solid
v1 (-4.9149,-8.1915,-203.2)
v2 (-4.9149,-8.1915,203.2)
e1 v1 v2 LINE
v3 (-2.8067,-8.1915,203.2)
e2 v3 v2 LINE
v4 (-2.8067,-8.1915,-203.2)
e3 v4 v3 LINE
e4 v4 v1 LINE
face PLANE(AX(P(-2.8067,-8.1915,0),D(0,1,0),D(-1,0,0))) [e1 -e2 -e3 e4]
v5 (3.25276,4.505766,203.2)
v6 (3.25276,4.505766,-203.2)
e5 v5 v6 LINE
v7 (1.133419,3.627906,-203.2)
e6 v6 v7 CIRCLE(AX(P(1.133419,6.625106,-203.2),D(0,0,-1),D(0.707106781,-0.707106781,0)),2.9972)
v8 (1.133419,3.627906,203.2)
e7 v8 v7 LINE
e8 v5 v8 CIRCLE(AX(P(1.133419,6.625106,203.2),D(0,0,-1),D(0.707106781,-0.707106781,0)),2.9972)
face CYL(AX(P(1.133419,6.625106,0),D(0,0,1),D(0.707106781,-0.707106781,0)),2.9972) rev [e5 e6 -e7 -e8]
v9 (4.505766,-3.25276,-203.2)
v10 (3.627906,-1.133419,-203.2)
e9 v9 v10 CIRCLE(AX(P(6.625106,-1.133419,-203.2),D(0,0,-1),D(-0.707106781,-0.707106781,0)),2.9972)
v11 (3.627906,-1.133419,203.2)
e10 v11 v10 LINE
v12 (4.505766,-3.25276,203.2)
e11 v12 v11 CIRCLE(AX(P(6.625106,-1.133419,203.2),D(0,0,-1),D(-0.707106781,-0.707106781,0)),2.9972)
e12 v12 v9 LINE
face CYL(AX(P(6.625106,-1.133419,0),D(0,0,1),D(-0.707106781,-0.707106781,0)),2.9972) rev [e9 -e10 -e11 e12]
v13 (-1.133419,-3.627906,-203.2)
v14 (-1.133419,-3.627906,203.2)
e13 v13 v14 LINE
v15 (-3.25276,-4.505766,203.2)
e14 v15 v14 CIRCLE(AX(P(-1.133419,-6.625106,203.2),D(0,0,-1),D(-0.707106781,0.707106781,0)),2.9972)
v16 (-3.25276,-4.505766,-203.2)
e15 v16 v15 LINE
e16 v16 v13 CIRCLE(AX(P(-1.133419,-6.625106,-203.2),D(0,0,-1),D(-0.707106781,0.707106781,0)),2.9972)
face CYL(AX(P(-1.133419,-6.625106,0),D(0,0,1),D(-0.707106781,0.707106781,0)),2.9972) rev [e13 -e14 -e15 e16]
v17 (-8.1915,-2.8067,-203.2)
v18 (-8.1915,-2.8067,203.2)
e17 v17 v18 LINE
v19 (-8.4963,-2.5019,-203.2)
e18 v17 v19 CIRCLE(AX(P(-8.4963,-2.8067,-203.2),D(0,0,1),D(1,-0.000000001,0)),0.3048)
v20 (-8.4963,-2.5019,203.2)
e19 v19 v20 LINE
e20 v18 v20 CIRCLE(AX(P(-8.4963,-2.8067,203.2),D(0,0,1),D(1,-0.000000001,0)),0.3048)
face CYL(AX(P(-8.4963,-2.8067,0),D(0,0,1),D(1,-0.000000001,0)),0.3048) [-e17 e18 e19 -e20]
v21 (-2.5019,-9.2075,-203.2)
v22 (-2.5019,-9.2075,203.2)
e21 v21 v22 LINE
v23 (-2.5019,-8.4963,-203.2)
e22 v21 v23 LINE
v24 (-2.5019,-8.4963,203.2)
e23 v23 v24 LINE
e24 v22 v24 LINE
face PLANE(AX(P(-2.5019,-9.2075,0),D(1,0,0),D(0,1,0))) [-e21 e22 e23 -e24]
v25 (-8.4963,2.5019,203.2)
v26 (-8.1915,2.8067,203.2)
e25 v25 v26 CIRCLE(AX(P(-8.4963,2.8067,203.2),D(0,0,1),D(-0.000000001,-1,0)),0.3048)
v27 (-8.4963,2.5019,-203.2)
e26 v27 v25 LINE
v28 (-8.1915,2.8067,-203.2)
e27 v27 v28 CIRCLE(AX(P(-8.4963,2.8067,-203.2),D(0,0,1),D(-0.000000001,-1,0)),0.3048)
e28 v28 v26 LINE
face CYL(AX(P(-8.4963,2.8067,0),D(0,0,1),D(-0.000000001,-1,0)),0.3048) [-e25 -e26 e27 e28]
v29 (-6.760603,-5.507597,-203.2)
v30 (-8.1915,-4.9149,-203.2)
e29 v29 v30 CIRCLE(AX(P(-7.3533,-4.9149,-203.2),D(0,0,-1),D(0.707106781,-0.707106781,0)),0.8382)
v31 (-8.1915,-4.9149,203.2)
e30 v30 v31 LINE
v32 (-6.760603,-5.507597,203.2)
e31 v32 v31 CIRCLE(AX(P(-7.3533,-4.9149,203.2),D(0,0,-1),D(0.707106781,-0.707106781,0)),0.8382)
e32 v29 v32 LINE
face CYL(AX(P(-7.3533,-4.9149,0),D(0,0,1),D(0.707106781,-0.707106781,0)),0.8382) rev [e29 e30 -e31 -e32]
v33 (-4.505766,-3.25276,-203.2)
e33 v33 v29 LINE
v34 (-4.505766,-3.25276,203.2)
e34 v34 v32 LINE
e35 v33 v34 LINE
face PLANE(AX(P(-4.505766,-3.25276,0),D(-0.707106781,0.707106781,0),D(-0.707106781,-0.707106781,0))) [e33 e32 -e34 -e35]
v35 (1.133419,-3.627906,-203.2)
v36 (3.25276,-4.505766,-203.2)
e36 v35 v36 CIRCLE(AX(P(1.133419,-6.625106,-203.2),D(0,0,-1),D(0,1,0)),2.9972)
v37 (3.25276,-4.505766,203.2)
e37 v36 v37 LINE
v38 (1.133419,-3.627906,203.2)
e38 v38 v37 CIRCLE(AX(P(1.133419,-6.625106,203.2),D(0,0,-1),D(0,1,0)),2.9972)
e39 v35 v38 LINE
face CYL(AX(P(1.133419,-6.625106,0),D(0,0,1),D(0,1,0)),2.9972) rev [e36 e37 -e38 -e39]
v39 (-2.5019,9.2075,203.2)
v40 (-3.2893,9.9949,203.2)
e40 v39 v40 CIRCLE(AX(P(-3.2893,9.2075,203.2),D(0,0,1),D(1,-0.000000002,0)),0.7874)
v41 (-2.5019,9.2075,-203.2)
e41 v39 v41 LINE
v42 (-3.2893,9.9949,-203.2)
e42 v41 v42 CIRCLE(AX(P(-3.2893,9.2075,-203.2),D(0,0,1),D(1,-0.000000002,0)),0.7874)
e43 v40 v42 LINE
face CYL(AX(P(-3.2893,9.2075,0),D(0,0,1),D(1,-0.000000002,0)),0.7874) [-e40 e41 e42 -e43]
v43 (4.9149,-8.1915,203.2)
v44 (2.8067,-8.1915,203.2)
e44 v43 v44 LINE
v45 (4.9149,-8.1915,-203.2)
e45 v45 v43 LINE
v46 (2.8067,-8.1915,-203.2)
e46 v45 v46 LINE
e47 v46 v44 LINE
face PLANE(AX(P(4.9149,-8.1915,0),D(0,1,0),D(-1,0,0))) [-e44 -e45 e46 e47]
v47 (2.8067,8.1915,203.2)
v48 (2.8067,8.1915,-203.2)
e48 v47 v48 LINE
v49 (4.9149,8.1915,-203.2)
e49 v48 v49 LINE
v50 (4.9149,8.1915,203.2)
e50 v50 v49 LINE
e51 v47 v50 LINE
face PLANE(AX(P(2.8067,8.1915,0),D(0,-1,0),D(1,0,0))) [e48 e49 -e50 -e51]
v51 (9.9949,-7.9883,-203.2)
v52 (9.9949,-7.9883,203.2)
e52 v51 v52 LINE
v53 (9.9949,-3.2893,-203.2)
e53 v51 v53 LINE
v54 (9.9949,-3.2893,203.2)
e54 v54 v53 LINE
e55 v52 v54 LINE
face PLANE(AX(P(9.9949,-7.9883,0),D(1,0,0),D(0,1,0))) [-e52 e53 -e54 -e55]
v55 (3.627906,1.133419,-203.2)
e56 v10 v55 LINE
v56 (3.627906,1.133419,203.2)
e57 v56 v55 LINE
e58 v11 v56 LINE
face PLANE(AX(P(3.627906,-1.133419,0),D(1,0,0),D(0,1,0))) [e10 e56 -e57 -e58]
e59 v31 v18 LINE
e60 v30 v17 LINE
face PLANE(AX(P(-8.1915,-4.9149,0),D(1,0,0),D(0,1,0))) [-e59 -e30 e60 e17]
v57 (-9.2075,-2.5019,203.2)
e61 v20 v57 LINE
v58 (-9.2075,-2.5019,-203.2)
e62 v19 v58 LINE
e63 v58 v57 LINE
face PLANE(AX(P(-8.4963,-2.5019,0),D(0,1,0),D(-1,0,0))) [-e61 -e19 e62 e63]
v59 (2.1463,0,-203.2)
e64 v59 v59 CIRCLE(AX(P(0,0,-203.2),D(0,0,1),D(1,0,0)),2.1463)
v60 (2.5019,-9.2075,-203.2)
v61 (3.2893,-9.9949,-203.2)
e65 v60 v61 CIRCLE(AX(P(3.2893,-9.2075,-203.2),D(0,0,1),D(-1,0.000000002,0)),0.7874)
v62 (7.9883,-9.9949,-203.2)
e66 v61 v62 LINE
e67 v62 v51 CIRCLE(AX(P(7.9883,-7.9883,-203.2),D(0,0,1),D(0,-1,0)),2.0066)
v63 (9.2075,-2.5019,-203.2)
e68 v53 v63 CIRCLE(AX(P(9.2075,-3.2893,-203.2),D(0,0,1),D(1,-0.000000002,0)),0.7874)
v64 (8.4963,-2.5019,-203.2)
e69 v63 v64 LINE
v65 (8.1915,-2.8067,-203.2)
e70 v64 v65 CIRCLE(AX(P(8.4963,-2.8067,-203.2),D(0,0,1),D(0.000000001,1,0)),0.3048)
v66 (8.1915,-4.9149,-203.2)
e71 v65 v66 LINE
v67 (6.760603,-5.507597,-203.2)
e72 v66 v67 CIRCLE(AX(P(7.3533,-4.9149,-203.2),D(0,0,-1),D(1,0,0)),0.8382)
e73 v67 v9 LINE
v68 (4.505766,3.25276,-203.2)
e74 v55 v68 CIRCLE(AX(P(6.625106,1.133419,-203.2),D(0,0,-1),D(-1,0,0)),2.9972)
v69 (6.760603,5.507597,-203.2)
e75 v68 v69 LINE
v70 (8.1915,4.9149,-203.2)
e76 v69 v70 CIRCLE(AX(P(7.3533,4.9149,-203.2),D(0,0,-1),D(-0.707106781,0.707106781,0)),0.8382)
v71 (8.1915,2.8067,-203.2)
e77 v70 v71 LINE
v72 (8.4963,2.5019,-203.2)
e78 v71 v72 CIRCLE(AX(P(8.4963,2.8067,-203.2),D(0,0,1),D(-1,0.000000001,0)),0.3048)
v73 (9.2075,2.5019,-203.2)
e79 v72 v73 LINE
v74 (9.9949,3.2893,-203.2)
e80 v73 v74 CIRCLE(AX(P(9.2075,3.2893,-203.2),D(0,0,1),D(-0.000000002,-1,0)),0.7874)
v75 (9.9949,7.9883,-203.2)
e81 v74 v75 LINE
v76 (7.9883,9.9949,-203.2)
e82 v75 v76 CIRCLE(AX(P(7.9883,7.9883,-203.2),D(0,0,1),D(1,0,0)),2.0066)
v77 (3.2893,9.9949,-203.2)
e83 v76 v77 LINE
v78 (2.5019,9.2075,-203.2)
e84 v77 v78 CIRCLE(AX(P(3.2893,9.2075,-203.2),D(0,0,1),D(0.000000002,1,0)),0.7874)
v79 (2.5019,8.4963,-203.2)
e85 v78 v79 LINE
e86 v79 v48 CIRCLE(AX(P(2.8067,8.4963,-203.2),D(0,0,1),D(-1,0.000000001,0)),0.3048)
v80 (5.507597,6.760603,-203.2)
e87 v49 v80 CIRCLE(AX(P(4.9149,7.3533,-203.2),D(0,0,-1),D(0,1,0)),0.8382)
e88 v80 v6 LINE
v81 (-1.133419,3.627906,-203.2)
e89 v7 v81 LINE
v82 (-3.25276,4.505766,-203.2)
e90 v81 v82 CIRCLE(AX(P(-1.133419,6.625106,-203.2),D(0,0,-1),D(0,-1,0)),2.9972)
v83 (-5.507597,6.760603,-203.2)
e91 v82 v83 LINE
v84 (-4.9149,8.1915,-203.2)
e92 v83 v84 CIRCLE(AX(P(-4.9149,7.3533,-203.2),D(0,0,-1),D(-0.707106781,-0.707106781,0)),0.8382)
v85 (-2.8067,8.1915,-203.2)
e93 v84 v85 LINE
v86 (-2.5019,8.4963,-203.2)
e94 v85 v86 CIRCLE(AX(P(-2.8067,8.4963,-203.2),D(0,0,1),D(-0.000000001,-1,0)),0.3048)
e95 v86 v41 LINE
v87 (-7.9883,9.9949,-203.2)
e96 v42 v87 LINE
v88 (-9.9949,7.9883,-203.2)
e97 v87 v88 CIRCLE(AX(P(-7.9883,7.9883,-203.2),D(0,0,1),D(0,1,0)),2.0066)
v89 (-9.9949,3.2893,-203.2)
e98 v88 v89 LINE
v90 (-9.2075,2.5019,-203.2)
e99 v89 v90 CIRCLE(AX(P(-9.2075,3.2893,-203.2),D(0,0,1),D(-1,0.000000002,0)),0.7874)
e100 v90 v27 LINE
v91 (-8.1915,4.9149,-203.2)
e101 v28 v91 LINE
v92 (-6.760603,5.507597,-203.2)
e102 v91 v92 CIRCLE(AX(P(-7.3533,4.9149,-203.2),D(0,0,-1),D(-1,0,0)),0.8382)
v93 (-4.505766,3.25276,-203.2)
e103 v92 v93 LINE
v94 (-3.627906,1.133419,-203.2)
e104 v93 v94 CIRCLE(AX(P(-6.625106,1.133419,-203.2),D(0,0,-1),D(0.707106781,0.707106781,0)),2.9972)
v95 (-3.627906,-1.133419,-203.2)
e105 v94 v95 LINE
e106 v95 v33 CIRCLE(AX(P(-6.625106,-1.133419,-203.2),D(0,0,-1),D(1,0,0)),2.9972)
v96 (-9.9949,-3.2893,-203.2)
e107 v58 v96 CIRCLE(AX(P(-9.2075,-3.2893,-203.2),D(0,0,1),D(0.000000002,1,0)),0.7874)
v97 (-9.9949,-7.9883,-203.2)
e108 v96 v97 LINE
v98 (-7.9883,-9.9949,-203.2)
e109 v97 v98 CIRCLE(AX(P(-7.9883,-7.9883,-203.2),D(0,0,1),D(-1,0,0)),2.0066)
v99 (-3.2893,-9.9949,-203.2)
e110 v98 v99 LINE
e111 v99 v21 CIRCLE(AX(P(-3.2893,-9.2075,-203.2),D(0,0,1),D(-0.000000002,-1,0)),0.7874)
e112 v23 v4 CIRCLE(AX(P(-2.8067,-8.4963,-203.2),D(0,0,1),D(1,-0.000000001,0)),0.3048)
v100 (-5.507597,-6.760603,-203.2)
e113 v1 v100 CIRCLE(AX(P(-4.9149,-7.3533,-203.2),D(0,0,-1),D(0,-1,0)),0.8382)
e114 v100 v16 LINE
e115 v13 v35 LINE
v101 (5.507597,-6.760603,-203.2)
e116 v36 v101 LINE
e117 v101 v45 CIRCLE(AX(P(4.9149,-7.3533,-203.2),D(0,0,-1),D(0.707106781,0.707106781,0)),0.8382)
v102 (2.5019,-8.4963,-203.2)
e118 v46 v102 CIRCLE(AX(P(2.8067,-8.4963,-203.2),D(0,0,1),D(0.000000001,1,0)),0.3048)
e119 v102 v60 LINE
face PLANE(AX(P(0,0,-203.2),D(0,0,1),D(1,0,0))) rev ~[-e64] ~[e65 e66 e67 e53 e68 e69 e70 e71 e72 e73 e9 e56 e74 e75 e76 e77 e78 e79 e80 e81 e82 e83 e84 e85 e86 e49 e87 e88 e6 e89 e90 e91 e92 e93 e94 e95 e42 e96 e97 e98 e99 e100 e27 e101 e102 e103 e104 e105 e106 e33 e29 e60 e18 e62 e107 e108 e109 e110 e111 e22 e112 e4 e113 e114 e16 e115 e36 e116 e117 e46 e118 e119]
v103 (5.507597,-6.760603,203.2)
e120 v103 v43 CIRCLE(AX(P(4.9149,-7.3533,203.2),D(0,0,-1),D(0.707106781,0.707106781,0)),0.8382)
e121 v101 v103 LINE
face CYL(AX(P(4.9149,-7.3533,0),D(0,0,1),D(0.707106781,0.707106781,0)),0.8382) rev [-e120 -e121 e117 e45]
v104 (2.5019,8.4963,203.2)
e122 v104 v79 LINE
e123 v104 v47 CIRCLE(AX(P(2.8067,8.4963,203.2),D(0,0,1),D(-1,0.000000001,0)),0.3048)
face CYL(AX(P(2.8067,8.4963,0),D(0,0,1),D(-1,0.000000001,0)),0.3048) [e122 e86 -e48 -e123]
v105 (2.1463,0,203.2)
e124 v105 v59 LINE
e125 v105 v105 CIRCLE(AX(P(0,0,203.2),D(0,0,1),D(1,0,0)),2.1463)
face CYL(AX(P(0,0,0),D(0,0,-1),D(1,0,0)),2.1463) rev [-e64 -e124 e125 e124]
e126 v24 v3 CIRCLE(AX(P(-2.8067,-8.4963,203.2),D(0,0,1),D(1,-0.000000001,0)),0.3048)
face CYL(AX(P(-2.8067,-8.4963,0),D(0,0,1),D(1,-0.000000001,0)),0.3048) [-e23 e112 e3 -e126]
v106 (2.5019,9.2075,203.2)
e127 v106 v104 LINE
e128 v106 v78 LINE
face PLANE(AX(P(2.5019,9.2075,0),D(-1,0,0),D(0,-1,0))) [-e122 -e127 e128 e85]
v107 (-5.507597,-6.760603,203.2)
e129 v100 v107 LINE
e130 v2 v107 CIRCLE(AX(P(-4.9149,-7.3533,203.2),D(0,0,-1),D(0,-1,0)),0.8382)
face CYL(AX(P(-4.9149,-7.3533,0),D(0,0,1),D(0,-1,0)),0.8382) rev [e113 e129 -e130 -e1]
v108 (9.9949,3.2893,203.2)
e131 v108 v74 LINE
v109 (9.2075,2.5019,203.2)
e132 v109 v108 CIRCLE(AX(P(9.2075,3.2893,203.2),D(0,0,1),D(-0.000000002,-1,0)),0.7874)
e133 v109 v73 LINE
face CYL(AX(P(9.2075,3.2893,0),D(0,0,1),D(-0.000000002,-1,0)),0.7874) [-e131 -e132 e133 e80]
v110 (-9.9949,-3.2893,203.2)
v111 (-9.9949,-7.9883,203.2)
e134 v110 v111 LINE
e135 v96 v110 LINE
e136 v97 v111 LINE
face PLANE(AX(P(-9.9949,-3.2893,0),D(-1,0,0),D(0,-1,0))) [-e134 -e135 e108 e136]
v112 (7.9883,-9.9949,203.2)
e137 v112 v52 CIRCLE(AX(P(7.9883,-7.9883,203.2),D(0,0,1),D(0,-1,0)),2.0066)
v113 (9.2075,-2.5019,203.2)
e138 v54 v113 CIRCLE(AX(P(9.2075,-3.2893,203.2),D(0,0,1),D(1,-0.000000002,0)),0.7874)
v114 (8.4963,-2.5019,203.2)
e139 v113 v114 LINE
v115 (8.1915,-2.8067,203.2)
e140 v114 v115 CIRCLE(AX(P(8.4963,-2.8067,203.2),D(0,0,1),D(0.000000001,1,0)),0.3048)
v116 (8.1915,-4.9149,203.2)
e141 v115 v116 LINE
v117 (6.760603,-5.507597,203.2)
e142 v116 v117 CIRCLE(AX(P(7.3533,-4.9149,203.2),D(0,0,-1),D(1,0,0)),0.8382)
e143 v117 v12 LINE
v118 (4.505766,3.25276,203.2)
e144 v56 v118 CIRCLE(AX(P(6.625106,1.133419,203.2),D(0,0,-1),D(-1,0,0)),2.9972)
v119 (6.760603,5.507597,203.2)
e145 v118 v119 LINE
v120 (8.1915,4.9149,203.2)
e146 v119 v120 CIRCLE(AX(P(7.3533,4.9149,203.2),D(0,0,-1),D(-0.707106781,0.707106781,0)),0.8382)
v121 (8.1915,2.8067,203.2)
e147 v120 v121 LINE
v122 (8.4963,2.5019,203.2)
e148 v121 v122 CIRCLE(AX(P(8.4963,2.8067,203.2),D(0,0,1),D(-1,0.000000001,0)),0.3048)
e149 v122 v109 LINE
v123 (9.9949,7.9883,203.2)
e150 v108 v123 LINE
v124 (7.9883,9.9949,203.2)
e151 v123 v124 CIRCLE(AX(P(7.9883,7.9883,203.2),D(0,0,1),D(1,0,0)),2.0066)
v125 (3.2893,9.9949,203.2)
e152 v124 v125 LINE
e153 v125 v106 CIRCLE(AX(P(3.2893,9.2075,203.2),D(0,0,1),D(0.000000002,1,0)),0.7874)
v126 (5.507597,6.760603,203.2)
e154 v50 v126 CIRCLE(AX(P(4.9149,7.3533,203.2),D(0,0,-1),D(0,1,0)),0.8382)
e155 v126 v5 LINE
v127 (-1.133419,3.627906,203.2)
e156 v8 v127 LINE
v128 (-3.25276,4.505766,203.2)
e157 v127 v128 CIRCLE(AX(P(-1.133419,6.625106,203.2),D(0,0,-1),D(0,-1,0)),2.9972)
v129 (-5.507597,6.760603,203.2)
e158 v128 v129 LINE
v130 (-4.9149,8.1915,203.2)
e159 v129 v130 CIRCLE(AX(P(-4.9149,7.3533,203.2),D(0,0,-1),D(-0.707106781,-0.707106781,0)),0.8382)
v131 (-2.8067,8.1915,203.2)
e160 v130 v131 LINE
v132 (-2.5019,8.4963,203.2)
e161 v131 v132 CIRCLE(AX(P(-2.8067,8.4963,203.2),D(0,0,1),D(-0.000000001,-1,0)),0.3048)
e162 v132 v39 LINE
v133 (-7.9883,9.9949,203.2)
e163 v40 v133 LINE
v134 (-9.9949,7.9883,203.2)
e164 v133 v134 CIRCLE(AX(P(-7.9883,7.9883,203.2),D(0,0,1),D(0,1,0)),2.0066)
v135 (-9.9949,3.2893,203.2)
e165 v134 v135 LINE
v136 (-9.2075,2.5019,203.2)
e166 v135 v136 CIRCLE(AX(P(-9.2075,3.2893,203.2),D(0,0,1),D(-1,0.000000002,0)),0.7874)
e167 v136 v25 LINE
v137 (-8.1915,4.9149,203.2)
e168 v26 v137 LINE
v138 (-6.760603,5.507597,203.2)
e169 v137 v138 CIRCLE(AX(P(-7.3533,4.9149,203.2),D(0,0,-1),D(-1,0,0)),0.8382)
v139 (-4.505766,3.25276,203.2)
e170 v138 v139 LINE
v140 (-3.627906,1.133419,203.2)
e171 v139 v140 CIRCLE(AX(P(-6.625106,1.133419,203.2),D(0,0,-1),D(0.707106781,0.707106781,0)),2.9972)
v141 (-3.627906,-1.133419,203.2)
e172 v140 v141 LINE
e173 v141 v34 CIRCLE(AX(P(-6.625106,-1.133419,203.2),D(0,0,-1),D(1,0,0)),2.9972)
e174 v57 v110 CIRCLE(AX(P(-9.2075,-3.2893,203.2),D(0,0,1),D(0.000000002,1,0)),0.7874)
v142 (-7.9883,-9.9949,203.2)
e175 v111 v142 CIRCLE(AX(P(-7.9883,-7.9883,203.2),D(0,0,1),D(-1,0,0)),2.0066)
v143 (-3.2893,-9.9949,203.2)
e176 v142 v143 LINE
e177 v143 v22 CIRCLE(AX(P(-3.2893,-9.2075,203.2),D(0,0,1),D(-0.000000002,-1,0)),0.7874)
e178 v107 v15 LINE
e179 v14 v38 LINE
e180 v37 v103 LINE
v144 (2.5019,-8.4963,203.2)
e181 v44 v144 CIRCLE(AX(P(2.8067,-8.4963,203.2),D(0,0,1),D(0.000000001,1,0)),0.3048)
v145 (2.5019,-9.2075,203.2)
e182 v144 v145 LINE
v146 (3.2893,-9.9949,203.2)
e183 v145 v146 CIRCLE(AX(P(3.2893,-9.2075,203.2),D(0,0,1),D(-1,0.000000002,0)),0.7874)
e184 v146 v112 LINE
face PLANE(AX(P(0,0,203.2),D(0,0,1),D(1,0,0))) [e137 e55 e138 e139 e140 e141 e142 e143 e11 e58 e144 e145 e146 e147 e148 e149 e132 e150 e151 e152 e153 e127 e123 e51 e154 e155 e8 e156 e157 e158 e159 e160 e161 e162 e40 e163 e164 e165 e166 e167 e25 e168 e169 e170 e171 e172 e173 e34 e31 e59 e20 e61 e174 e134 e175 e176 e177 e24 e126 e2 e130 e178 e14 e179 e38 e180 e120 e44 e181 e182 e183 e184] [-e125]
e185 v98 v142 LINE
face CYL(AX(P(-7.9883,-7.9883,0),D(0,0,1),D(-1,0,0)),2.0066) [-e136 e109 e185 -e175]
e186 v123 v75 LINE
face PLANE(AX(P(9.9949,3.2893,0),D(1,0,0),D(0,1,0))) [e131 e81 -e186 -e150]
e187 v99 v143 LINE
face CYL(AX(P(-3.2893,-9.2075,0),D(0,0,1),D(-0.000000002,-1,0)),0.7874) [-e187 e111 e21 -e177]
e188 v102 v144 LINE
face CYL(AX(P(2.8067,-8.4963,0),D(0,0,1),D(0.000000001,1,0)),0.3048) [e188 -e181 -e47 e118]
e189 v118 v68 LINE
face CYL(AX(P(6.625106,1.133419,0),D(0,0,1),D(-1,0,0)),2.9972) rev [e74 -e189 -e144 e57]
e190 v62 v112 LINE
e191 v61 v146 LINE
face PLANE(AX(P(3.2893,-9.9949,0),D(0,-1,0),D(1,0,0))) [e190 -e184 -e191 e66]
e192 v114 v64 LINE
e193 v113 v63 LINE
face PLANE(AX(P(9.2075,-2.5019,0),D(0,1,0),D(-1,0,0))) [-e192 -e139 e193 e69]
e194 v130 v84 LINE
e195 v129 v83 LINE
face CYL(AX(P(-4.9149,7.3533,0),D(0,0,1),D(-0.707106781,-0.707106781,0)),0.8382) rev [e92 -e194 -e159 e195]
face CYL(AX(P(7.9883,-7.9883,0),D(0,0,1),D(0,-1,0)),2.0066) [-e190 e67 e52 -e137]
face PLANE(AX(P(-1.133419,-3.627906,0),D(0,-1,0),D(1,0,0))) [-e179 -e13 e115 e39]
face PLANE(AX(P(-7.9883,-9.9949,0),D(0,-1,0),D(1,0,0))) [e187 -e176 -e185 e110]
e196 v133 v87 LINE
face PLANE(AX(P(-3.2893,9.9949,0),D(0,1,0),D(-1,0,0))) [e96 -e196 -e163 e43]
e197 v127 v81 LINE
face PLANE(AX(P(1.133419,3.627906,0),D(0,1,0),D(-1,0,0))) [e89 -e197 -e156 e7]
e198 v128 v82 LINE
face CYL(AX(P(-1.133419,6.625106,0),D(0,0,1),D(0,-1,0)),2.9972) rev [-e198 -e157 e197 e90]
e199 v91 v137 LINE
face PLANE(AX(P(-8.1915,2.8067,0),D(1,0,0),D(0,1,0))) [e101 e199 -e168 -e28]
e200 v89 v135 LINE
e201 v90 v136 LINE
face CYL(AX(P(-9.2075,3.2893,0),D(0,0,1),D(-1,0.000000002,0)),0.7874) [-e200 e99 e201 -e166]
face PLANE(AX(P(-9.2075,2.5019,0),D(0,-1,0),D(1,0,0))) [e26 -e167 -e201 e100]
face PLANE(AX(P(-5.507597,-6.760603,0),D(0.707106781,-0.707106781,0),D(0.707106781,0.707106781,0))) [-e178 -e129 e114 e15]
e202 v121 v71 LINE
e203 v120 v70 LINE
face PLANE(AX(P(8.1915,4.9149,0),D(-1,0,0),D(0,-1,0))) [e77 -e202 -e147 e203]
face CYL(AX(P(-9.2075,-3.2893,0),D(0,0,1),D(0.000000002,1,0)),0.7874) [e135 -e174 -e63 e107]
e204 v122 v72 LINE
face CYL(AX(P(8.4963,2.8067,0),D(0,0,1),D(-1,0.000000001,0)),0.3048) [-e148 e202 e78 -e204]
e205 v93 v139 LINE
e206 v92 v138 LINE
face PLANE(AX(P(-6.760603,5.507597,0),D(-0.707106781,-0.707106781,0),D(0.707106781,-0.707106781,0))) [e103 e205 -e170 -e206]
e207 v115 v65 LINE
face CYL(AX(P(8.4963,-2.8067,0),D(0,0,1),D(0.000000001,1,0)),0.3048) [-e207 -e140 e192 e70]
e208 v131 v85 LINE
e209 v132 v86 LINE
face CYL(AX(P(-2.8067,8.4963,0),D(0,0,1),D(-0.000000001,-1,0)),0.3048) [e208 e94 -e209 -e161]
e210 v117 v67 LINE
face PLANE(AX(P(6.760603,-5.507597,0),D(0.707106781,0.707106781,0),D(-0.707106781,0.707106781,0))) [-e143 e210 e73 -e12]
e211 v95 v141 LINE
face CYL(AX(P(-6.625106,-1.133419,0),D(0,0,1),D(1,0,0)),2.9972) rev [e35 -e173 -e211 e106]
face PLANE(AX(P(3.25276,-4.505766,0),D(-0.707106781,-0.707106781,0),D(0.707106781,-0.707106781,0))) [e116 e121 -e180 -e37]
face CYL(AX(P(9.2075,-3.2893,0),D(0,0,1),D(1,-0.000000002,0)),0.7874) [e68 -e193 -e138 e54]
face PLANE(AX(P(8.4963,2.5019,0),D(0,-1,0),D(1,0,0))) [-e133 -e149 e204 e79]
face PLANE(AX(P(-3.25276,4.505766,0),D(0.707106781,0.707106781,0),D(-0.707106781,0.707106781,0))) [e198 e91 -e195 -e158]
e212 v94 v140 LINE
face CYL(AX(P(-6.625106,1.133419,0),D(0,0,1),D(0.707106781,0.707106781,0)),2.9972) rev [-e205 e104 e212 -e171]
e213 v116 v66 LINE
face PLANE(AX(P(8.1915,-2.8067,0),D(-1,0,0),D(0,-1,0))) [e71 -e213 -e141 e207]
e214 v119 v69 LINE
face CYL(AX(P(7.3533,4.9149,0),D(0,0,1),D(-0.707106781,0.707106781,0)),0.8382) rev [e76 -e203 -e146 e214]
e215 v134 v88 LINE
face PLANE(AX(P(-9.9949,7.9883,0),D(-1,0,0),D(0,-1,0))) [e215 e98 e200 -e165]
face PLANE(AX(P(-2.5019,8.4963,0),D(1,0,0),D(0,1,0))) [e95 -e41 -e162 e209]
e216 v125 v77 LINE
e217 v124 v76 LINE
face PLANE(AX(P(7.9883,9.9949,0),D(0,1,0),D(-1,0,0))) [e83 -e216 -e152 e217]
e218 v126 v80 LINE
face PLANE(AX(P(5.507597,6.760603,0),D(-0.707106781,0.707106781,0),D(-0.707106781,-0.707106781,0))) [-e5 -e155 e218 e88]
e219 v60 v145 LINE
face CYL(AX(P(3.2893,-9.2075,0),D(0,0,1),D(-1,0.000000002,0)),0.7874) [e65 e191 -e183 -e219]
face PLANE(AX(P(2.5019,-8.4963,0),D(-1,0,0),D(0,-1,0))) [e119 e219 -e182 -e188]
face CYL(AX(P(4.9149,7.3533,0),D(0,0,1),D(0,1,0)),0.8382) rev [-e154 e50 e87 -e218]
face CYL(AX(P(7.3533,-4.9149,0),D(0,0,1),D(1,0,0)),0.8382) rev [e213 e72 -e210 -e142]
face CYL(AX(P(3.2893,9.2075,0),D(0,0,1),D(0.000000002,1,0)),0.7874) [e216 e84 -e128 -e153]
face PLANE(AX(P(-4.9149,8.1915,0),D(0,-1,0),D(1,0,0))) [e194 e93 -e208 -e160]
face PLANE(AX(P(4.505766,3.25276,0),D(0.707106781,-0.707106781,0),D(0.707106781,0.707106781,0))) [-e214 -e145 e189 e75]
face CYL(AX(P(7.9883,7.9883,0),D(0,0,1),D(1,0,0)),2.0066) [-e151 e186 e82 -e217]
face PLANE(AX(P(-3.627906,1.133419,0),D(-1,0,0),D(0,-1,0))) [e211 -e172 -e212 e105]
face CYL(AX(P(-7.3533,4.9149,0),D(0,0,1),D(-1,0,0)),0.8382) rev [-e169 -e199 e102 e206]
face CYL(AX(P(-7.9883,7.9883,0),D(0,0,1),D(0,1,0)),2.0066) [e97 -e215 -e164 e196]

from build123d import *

# Parameters (mm, degrees)
SKETCH1_R           = 2.1463
BOSS_EXTRUDE1_DEPTH = 203.2


with BuildPart() as part:
    # Sketch1 → Boss-Extrude1 (new, symmetric)
    with BuildSketch(Plane.XY):
        with BuildLine():
            Line((-9.9949, 7.9883), (-9.9949, 3.2893))
            ThreePointArc((-9.9949, 3.2893), (-9.76427588, 2.73252412), (-9.2075, 2.5019))
            Line((-9.2075, 2.5019), (-8.4963, 2.5019))
            ThreePointArc((-8.4963, 2.5019), (-8.280773853, 2.591173853), (-8.1915, 2.8067))
            Line((-8.1915, 2.8067), (-8.1915, 4.9149))
            ThreePointArc((-8.1915, 4.9149), (-7.674065253, 5.689295824), (-6.760603096, 5.507596904))
            Line((-6.760603096, 5.507596904), (-4.505765747, 3.252759555))
            ThreePointArc((-4.505765747, 3.252759555), (-3.856054457, 2.280397894), (-3.627906192, 1.133419111))
            Line((-3.627906192, 1.133419111), (-3.627906192, -1.133419111))
            ThreePointArc((-3.627906192, -1.133419111), (-3.856054457, -2.280397894), (-4.505765747, -3.252759555))
            Line((-4.505765747, -3.252759555), (-6.760603096, -5.507596904))
            ThreePointArc((-6.760603096, -5.507596904), (-7.674065253, -5.689295824), (-8.1915, -4.9149))
            Line((-8.1915, -4.9149), (-8.1915, -2.8067))
            ThreePointArc((-8.1915, -2.8067), (-8.280773853, -2.591173853), (-8.4963, -2.5019))
            Line((-8.4963, -2.5019), (-9.2075, -2.5019))
            ThreePointArc((-9.2075, -2.5019), (-9.76427588, -2.73252412), (-9.9949, -3.2893))
            Line((-9.9949, -3.2893), (-9.9949, -7.9883))
            ThreePointArc((-9.9949, -7.9883), (-9.407180467, -9.407180467), (-7.9883, -9.9949))
            Line((-7.9883, -9.9949), (-3.2893, -9.9949))
            ThreePointArc((-3.2893, -9.9949), (-2.73252412, -9.76427588), (-2.5019, -9.2075))
            Line((-2.5019, -9.2075), (-2.5019, -8.4963))
            ThreePointArc((-2.5019, -8.4963), (-2.591173853, -8.280773853), (-2.8067, -8.1915))
            Line((-2.8067, -8.1915), (-4.9149, -8.1915))
            ThreePointArc((-4.9149, -8.1915), (-5.689295824, -7.674065253), (-5.507596904, -6.760603096))
            Line((-5.507596904, -6.760603096), (-3.252759555, -4.505765747))
            ThreePointArc((-3.252759555, -4.505765747), (-2.280397894, -3.856054457), (-1.133419111, -3.627906192))
            Line((-1.133419111, -3.627906192), (1.133419111, -3.627906192))
            ThreePointArc((1.133419111, -3.627906192), (2.280397894, -3.856054457), (3.252759555, -4.505765747))
            Line((3.252759555, -4.505765747), (5.507596904, -6.760603096))
            ThreePointArc((5.507596904, -6.760603096), (5.689295824, -7.674065253), (4.9149, -8.1915))
            Line((4.9149, -8.1915), (2.8067, -8.1915))
            ThreePointArc((2.8067, -8.1915), (2.591173853, -8.280773853), (2.5019, -8.4963))
            Line((2.5019, -8.4963), (2.5019, -9.2075))
            ThreePointArc((2.5019, -9.2075), (2.73252412, -9.76427588), (3.2893, -9.9949))
            Line((3.2893, -9.9949), (7.9883, -9.9949))
            ThreePointArc((7.9883, -9.9949), (9.407180467, -9.407180467), (9.9949, -7.9883))
            Line((9.9949, -7.9883), (9.9949, -3.2893))
            ThreePointArc((9.9949, -3.2893), (9.76427588, -2.73252412), (9.2075, -2.5019))
            Line((9.2075, -2.5019), (8.4963, -2.5019))
            ThreePointArc((8.4963, -2.5019), (8.280773853, -2.591173853), (8.1915, -2.8067))
            Line((8.1915, -2.8067), (8.1915, -4.9149))
            ThreePointArc((8.1915, -4.9149), (7.674065253, -5.689295824), (6.760603096, -5.507596904))
            Line((6.760603096, -5.507596904), (4.505765747, -3.252759555))
            ThreePointArc((4.505765747, -3.252759555), (3.856054457, -2.280397894), (3.627906192, -1.133419111))
            Line((3.627906192, -1.133419111), (3.627906192, 1.133419111))
            ThreePointArc((3.627906192, 1.133419111), (3.856054457, 2.280397894), (4.505765747, 3.252759555))
            Line((4.505765747, 3.252759555), (6.760603096, 5.507596904))
            ThreePointArc((6.760603096, 5.507596904), (7.674065253, 5.689295824), (8.1915, 4.9149))
            Line((8.1915, 4.9149), (8.1915, 2.8067))
            ThreePointArc((8.1915, 2.8067), (8.280773853, 2.591173853), (8.4963, 2.5019))
            Line((8.4963, 2.5019), (9.2075, 2.5019))
            ThreePointArc((9.2075, 2.5019), (9.76427588, 2.73252412), (9.9949, 3.2893))
            Line((9.9949, 3.2893), (9.9949, 7.9883))
            ThreePointArc((9.9949, 7.9883), (9.407180467, 9.407180467), (7.9883, 9.9949))
            Line((7.9883, 9.9949), (3.2893, 9.9949))
            ThreePointArc((3.2893, 9.9949), (2.73252412, 9.76427588), (2.5019, 9.2075))
            Line((2.5019, 9.2075), (2.5019, 8.4963))
            ThreePointArc((2.5019, 8.4963), (2.591173853, 8.280773853), (2.8067, 8.1915))
            Line((2.8067, 8.1915), (4.9149, 8.1915))
            ThreePointArc((4.9149, 8.1915), (5.689295824, 7.674065253), (5.507596904, 6.760603096))
            Line((5.507596904, 6.760603096), (3.252759555, 4.505765747))
            ThreePointArc((3.252759555, 4.505765747), (2.280397894, 3.856054457), (1.133419111, 3.627906192))
            Line((1.133419111, 3.627906192), (-1.133419111, 3.627906192))
            ThreePointArc((-1.133419111, 3.627906192), (-2.280397894, 3.856054457), (-3.252759555, 4.505765747))
            Line((-3.252759555, 4.505765747), (-5.507596904, 6.760603096))
            ThreePointArc((-5.507596904, 6.760603096), (-5.689295824, 7.674065253), (-4.9149, 8.1915))
            Line((-4.9149, 8.1915), (-2.8067, 8.1915))
            ThreePointArc((-2.8067, 8.1915), (-2.591173853, 8.280773853), (-2.5019, 8.4963))
            Line((-2.5019, 8.4963), (-2.5019, 9.2075))
            ThreePointArc((-2.5019, 9.2075), (-2.73252412, 9.76427588), (-3.2893, 9.9949))
            Line((-3.2893, 9.9949), (-7.9883, 9.9949))
            ThreePointArc((-7.9883, 9.9949), (-9.407180467, 9.407180467), (-9.9949, 7.9883))
        make_face()
        Circle(SKETCH1_R, mode=Mode.SUBTRACT)
    extrude(amount=BOSS_EXTRUDE1_DEPTH, both=True)


solid = part.part
